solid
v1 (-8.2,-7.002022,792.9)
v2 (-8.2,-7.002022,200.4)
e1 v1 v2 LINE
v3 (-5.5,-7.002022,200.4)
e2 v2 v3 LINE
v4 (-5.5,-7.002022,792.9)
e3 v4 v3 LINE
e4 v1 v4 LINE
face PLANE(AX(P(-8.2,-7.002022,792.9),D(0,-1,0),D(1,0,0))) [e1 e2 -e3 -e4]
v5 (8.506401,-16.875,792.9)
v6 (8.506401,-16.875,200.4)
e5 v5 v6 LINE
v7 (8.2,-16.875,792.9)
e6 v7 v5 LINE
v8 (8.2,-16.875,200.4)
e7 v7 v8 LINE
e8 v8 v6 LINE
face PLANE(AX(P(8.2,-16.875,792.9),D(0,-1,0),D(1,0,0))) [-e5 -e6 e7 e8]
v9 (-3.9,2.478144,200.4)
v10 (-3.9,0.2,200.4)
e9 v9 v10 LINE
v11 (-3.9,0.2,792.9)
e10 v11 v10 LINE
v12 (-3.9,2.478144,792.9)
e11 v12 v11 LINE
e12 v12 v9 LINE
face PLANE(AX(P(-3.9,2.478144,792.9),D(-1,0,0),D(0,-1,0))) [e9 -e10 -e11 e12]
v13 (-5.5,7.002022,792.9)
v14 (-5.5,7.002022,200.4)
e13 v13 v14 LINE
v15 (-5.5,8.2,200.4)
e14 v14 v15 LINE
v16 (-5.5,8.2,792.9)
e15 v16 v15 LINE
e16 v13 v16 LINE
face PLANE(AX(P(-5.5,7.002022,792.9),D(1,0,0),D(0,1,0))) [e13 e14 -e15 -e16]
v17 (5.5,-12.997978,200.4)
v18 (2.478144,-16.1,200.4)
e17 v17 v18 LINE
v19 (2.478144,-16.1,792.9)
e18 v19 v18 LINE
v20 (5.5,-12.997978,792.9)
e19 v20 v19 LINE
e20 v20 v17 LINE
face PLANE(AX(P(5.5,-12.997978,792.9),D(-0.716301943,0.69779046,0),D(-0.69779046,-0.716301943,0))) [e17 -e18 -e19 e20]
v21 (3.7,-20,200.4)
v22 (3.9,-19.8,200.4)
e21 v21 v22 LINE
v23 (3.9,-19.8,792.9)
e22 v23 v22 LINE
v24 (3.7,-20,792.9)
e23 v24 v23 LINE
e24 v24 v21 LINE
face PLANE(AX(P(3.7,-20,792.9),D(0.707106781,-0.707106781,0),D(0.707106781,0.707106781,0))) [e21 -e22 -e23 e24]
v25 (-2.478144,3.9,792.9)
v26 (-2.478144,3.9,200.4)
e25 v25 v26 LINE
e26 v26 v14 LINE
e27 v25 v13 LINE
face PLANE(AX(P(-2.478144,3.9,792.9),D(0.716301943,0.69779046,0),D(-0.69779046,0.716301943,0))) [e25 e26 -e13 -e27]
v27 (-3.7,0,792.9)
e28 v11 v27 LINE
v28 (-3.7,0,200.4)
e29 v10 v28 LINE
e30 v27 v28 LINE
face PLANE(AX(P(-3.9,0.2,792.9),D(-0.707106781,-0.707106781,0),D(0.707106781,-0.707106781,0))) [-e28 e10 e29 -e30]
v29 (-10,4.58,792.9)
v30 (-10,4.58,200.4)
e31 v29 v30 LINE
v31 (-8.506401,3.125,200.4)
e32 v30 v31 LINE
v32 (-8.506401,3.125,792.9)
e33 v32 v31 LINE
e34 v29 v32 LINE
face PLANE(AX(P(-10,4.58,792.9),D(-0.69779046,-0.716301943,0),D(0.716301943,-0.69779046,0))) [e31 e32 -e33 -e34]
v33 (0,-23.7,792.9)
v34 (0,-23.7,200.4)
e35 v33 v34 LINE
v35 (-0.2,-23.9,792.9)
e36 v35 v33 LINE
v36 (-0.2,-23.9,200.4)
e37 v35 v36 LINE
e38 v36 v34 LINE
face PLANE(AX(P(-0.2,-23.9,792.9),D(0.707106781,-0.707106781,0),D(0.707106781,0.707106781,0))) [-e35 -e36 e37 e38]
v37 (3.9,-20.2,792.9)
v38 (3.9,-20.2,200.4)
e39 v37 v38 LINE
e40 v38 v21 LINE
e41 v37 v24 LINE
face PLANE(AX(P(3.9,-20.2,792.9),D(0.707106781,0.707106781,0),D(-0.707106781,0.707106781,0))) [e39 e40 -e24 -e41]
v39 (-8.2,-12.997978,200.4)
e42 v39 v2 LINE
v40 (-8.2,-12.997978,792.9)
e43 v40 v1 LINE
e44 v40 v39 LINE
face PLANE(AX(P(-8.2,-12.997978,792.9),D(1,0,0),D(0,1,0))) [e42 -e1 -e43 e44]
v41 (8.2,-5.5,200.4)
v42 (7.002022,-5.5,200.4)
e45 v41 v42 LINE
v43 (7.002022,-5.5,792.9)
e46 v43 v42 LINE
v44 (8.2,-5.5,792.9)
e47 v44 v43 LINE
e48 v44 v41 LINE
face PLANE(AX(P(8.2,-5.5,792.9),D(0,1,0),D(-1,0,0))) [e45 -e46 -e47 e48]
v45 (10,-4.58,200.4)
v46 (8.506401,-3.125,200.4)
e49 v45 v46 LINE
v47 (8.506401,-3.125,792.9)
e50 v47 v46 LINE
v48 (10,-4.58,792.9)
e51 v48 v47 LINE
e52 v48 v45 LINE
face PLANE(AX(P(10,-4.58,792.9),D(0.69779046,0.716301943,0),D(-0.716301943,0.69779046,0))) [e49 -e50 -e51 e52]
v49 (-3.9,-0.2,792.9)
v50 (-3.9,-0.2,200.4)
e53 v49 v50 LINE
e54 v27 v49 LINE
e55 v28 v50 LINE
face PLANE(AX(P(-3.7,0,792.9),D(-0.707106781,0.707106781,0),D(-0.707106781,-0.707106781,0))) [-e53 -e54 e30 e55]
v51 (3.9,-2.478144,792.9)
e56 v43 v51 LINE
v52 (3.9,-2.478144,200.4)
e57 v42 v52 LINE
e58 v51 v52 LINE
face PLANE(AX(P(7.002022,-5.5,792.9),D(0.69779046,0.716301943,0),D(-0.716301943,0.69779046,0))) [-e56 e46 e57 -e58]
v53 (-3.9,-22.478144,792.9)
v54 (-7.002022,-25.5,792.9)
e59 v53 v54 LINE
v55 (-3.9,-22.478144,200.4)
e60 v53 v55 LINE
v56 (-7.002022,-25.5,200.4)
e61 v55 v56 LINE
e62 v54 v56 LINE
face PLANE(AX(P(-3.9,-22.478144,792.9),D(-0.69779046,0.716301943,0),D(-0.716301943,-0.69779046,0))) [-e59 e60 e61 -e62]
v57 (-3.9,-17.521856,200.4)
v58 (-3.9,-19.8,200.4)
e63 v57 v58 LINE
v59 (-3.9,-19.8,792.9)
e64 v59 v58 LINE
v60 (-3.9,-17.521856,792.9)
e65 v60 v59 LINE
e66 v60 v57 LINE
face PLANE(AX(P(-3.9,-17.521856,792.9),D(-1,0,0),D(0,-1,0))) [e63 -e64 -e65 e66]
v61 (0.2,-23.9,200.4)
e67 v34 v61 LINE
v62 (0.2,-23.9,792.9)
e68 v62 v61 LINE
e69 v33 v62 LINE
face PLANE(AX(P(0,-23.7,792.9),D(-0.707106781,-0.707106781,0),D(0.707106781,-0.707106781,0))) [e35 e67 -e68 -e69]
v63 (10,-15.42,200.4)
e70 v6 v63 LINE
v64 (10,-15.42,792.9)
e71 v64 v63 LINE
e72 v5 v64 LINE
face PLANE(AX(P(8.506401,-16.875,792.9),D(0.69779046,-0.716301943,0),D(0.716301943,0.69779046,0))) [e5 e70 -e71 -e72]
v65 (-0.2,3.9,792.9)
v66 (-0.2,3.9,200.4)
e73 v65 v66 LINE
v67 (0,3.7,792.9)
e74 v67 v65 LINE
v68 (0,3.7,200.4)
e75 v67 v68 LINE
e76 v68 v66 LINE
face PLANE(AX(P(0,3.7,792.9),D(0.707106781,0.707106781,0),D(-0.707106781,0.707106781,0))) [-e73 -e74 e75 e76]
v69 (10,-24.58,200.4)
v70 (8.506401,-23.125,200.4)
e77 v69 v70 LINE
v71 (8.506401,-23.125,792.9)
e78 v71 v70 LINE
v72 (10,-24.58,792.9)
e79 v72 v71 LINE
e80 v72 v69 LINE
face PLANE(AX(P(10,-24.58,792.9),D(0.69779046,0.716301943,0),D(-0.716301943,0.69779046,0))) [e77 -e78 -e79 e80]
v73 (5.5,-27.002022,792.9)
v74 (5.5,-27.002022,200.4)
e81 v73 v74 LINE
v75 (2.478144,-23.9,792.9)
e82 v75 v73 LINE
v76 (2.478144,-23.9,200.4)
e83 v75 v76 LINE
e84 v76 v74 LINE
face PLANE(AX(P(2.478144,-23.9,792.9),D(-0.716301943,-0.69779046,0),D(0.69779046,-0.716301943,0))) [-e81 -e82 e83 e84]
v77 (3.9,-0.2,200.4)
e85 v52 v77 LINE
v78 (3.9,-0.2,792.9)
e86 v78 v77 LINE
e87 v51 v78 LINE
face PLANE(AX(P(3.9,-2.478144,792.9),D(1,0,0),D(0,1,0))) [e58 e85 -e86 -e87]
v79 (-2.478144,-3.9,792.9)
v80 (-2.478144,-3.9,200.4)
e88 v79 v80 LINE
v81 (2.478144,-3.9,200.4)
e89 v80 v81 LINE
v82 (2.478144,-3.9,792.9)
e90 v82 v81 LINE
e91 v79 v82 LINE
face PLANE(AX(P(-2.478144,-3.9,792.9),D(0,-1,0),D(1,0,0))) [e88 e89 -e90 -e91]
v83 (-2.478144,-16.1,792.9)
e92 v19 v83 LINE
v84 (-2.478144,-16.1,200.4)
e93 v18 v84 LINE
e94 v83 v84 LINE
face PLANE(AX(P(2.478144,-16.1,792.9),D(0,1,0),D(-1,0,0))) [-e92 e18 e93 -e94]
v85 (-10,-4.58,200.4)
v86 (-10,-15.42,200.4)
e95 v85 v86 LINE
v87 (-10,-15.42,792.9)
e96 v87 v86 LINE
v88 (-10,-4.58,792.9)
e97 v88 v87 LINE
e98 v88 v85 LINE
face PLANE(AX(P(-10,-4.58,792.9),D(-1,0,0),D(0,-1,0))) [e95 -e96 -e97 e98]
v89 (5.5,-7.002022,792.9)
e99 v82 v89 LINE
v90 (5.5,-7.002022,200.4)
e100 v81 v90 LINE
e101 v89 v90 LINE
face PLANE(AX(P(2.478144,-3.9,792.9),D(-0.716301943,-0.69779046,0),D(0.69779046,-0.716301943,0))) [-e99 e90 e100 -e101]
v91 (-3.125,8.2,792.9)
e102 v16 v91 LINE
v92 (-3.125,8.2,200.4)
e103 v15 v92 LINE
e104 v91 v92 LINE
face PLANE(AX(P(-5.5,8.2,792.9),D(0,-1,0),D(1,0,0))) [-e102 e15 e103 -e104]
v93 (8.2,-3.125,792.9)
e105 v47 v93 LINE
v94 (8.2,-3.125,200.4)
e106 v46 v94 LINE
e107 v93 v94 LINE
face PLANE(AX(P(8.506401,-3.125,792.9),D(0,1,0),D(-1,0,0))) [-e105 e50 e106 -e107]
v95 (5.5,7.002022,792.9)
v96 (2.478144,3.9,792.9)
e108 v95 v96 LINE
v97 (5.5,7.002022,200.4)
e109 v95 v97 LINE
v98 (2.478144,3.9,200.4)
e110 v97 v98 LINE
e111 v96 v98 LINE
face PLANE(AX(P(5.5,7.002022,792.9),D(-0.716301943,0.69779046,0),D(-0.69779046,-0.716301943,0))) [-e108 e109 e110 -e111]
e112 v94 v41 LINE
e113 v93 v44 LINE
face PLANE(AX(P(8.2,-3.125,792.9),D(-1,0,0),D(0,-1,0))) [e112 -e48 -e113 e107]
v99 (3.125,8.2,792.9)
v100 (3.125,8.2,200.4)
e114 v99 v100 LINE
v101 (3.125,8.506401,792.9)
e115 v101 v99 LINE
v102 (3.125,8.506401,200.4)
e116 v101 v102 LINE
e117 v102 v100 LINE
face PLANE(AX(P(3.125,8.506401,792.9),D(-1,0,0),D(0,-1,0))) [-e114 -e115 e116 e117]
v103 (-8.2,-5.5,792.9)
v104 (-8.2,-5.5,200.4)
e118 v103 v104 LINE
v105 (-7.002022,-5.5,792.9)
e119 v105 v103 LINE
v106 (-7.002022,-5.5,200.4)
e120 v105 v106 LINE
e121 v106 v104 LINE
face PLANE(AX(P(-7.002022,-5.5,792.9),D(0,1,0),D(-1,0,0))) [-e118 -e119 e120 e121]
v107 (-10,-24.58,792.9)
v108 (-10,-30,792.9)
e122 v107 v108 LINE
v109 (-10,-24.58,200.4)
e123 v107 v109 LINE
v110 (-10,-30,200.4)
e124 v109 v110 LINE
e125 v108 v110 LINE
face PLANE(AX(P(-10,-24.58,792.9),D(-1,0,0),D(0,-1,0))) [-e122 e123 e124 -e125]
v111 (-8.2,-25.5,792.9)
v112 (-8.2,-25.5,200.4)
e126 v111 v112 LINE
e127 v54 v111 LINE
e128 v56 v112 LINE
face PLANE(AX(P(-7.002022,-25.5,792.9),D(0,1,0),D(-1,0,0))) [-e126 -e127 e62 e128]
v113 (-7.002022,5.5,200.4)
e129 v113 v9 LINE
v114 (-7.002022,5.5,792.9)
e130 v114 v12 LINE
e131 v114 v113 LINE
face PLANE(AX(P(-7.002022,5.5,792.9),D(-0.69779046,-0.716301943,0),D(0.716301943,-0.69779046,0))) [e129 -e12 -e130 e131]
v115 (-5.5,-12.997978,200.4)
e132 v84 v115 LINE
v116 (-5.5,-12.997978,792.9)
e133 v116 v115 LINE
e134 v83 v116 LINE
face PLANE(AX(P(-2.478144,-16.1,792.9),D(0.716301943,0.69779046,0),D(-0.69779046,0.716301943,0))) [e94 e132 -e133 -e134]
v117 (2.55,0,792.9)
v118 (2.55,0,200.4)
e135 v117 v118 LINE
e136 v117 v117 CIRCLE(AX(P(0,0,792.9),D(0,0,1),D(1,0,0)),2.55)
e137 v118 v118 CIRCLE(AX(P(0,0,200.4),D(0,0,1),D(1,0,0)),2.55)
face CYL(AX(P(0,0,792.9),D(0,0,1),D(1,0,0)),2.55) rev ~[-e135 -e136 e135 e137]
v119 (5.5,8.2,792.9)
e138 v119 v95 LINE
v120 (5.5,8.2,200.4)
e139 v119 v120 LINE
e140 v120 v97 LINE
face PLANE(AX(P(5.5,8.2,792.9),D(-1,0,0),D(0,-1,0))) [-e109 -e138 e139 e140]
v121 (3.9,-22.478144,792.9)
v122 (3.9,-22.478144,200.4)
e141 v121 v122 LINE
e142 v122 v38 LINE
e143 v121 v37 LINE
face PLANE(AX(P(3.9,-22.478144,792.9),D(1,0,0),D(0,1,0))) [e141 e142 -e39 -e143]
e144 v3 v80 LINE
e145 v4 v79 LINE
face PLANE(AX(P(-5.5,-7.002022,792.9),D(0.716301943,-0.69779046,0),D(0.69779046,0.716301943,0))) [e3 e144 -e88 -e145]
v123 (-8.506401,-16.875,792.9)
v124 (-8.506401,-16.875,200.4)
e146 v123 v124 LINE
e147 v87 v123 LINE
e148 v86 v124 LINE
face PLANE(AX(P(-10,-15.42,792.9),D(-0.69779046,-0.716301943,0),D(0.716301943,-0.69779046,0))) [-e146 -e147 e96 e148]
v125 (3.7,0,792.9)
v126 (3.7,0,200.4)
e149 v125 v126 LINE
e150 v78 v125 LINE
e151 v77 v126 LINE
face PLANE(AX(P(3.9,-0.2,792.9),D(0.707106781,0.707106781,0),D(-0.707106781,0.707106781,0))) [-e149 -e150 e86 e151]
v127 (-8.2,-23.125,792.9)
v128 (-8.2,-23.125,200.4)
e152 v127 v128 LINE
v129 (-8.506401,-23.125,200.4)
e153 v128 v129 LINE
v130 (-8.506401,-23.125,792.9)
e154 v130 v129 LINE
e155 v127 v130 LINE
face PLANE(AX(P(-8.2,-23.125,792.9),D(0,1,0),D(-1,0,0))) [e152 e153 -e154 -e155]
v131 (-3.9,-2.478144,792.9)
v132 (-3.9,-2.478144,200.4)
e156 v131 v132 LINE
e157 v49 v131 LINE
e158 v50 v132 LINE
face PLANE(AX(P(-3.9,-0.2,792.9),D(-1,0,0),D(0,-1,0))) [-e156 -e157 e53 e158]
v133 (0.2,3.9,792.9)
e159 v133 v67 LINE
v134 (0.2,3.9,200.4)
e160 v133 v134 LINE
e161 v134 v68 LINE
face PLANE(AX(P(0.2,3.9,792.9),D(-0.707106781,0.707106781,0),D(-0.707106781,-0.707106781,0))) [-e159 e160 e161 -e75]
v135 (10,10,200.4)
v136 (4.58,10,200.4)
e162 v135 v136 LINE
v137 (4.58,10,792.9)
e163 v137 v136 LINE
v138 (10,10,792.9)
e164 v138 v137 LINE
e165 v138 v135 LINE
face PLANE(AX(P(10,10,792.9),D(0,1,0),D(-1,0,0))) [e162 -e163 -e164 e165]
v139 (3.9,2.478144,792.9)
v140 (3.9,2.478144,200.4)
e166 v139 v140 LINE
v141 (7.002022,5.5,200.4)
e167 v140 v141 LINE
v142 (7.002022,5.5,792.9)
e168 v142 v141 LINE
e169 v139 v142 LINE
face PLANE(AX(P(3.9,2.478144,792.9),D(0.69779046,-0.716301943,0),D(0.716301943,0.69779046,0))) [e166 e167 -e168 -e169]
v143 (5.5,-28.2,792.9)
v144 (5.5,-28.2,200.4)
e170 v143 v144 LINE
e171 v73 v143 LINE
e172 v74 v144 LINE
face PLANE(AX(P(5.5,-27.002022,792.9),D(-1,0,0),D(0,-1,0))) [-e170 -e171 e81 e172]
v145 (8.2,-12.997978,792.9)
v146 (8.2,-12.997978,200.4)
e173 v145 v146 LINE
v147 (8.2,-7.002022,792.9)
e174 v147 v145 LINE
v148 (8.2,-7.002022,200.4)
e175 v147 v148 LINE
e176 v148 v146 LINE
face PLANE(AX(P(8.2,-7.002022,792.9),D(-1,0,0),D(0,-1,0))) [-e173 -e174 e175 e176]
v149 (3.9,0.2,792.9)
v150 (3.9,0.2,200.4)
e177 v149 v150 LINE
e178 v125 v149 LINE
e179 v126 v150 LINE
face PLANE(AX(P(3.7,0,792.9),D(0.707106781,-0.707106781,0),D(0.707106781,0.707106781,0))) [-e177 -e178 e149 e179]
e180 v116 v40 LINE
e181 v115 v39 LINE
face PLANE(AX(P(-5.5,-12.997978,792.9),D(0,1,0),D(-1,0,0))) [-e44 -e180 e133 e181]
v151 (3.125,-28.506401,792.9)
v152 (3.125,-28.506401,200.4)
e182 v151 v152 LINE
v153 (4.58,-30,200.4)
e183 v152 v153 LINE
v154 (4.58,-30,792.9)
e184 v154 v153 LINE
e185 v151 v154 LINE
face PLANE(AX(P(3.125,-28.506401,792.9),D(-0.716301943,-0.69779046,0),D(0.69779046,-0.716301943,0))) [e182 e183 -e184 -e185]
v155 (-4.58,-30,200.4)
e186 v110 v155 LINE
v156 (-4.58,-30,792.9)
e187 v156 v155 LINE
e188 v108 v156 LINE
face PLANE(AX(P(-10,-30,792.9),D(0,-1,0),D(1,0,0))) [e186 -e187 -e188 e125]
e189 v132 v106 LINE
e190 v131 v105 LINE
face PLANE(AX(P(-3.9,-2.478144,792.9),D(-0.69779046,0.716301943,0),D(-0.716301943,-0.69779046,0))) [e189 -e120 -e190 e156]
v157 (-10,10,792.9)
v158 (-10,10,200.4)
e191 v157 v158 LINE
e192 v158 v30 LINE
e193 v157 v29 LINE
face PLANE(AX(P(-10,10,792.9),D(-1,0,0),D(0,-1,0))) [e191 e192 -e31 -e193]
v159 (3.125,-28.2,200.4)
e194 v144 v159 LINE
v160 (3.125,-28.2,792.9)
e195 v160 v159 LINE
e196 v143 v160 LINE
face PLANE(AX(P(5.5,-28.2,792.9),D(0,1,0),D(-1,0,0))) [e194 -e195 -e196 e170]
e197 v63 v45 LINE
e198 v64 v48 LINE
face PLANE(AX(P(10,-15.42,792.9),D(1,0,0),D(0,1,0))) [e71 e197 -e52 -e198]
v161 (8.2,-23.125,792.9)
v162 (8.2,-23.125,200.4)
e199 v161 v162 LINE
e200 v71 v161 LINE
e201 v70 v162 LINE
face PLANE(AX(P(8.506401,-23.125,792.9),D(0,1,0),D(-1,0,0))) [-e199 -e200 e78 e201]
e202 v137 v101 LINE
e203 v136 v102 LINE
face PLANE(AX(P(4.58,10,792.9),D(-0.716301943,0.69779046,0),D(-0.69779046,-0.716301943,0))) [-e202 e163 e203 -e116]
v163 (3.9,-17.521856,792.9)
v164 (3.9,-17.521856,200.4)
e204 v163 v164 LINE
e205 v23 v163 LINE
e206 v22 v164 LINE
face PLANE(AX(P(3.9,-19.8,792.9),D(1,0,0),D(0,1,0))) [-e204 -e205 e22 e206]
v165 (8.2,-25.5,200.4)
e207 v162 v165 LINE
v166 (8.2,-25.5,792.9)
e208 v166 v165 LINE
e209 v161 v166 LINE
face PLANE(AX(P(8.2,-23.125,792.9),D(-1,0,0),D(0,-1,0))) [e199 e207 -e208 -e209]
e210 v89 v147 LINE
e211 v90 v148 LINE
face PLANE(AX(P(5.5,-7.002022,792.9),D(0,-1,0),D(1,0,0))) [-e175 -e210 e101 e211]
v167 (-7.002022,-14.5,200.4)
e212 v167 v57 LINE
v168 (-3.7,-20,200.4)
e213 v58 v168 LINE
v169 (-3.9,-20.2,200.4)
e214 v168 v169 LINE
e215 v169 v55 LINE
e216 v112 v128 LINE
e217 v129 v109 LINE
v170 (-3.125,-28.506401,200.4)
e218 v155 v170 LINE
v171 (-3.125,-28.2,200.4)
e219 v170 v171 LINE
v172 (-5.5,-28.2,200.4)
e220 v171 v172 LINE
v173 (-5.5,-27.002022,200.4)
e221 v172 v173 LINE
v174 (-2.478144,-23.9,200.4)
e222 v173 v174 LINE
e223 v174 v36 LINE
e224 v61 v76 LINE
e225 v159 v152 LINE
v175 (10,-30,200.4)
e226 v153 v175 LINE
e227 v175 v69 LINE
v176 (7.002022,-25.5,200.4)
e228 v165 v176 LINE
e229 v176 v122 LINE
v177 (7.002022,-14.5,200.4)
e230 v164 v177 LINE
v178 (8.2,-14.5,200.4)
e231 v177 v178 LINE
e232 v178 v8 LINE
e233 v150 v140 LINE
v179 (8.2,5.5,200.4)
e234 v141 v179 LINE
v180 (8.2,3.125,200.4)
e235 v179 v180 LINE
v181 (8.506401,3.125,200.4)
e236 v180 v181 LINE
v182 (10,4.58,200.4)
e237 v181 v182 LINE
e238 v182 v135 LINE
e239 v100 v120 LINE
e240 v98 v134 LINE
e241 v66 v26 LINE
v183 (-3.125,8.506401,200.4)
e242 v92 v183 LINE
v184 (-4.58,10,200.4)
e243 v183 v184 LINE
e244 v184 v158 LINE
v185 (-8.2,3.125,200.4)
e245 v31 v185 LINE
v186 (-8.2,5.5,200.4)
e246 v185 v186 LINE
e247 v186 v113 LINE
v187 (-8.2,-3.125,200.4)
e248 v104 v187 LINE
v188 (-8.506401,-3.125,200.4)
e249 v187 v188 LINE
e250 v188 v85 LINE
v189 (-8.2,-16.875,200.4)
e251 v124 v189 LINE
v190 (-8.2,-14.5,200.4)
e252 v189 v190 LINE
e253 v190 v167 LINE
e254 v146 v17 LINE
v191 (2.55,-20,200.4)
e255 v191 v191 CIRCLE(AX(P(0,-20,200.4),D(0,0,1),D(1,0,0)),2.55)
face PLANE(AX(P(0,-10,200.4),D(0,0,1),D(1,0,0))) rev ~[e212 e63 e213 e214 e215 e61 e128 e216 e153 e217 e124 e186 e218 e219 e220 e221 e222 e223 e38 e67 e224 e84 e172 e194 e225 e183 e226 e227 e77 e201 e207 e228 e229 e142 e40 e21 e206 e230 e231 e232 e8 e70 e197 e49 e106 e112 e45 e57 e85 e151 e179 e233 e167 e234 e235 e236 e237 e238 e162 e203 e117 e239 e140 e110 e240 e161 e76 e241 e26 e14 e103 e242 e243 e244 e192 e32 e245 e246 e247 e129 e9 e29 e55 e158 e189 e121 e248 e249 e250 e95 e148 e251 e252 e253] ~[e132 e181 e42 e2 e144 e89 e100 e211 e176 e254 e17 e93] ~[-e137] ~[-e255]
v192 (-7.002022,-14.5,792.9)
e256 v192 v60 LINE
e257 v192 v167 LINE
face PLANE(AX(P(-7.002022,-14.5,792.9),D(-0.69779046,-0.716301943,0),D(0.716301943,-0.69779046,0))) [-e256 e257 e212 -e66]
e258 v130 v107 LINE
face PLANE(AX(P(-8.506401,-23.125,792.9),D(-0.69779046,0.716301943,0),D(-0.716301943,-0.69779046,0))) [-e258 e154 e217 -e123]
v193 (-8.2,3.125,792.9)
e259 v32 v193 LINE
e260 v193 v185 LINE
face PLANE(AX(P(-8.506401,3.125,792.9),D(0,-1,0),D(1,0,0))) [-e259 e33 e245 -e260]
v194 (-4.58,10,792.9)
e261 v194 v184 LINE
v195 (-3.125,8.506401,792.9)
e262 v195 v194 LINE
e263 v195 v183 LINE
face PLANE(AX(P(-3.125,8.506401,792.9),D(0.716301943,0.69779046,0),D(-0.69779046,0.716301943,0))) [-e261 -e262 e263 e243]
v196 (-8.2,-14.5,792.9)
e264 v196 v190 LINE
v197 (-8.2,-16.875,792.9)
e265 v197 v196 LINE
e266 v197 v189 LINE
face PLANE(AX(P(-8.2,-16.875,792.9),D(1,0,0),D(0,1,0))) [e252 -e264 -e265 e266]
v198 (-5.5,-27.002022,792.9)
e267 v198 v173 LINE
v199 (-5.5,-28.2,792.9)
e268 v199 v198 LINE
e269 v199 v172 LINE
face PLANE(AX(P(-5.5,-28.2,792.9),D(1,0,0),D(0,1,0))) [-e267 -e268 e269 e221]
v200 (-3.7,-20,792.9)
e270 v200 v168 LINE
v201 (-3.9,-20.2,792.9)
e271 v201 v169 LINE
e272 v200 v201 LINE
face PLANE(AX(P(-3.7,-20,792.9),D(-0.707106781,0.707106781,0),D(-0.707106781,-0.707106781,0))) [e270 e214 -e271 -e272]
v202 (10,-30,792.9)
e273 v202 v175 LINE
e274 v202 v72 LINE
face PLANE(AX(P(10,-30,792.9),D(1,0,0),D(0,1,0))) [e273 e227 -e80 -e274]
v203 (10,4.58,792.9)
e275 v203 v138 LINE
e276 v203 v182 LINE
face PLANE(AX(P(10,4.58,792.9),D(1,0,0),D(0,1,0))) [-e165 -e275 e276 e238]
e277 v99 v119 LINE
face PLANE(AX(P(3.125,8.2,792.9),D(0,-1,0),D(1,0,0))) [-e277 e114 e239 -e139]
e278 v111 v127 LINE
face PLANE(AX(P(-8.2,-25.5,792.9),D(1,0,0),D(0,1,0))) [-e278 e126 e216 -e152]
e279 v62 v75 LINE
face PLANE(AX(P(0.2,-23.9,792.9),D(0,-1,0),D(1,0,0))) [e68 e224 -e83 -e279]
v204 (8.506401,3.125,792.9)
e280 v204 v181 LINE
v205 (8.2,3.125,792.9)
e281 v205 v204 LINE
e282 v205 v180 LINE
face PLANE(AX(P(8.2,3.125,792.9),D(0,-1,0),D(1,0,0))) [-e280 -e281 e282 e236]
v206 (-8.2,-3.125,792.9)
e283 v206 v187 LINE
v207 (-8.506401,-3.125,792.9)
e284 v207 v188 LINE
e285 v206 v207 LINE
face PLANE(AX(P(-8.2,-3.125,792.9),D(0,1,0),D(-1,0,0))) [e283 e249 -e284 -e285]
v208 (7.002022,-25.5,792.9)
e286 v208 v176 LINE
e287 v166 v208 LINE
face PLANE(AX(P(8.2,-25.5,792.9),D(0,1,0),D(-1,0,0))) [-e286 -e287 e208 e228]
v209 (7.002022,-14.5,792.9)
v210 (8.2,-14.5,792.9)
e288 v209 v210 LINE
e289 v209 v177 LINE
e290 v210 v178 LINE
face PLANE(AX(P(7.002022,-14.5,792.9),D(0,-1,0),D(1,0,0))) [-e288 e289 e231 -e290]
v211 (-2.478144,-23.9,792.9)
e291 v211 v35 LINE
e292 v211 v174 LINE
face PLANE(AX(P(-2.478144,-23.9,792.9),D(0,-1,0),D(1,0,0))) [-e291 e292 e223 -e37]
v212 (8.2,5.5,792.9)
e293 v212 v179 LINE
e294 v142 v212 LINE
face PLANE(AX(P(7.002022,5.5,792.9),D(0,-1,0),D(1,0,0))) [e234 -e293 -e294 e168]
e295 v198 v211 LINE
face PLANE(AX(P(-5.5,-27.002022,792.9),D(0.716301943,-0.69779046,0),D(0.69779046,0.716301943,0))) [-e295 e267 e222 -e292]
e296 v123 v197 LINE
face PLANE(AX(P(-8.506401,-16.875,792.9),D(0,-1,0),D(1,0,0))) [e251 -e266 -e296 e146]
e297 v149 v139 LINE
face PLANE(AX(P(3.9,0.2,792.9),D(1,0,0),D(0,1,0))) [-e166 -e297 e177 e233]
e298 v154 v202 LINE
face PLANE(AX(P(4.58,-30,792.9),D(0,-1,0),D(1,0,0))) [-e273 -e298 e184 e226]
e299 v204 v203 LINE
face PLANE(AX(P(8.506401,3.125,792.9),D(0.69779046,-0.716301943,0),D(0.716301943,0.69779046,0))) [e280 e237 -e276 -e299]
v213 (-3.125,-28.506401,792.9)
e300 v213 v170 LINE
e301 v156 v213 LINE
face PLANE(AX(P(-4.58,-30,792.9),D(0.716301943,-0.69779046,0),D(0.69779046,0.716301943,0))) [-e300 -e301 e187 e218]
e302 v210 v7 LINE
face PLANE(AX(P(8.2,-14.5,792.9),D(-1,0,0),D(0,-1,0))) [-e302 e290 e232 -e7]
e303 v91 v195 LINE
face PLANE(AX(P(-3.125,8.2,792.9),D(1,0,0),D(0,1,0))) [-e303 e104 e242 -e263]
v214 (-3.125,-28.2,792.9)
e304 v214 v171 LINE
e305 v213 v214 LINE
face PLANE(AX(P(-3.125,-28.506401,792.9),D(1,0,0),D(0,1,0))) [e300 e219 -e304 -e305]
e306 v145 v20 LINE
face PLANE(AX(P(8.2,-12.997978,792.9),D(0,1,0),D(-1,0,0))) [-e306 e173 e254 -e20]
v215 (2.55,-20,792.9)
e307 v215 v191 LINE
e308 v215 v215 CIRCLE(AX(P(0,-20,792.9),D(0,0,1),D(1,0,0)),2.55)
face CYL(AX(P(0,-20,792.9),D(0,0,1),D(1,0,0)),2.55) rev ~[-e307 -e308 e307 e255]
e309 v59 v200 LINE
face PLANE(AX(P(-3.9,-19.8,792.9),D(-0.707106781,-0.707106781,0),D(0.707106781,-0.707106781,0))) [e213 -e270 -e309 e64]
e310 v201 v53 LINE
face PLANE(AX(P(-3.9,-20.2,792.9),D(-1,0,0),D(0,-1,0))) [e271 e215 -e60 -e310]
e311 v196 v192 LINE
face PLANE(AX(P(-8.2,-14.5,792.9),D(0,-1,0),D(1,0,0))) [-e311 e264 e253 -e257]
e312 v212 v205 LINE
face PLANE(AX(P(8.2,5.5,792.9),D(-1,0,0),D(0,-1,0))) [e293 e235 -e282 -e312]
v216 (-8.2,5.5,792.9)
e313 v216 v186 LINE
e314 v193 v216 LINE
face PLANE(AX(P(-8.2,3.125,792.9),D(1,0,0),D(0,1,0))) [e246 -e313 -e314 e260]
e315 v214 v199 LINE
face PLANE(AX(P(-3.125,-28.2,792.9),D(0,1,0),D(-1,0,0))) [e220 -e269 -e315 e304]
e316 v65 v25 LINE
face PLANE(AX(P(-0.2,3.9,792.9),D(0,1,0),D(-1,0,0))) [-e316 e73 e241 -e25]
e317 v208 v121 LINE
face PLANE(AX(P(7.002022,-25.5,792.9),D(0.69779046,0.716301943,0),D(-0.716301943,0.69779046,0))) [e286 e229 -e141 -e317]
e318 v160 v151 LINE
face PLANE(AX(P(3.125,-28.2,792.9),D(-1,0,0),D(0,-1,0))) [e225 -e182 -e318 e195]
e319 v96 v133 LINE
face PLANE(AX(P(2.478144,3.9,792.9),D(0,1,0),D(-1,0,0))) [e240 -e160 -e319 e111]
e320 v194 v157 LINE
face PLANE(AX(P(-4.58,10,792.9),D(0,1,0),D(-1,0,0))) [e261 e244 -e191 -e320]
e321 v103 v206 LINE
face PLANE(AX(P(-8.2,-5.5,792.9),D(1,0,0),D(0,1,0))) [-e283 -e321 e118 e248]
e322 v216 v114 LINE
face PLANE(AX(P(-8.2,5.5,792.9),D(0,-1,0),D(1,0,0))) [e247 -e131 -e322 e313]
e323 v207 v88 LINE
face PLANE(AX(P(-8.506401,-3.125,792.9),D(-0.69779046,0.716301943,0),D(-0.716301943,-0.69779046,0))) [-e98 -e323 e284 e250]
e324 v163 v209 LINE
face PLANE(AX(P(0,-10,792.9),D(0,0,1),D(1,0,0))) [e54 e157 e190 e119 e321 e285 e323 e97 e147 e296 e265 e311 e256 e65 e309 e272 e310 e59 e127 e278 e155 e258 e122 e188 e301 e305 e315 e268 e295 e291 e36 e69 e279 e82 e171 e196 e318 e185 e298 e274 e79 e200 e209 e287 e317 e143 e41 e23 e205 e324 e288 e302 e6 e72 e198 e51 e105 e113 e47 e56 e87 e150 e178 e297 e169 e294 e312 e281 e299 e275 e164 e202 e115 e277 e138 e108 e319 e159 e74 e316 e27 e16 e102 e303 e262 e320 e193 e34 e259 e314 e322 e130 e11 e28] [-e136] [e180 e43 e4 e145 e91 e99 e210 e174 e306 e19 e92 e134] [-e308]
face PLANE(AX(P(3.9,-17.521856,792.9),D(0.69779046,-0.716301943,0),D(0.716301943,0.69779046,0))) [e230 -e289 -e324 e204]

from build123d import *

# Parameters (mm, degrees)
SKETCH_1_R      = 2.55
EXTRUDE_1_DEPTH = 592.5


with BuildPart() as part:
    # Эскиз1 → Бобышка-Вытянуть1 (new body)
    with BuildSketch(Plane.XY.offset(792.9)):
        Polygon((-8.2, -3.125), (-8.506400721, -3.125), (-10, -4.58), (-10, -15.42), (-8.506400721, -16.875), (-8.2, -16.875), (-8.2, -14.5), (-7.00202244, -14.5), (-3.9, -17.521856474), (-3.9, -19.8), (-3.7, -20), (-3.9, -20.2), (-3.9, -22.478143526), (-7.00202244, -25.5), (-8.2, -25.5), (-8.2, -23.125), (-8.506400721, -23.125), (-10, -24.58), (-10, -30), (-4.58, -30), (-3.125, -28.506400721), (-3.125, -28.2), (-5.5, -28.2), (-5.5, -27.00202244), (-2.478143526, -23.9), (-0.2, -23.9), (0, -23.7), (0.2, -23.9), (2.478143526, -23.9), (5.5, -27.00202244), (5.5, -28.2), (3.125, -28.2), (3.125, -28.506400721), (4.58, -30), (10, -30), (10, -24.58), (8.506400721, -23.125), (8.2, -23.125), (8.2, -25.5), (7.00202244, -25.5), (3.9, -22.478143526), (3.9, -20.2), (3.7, -20), (3.9, -19.8), (3.9, -17.521856474), (7.00202244, -14.5), (8.2, -14.5), (8.2, -16.875), (8.506400721, -16.875), (10, -15.42), (10, -4.58), (8.506400721, -3.125), (8.2, -3.125), (8.2, -5.5), (7.00202244, -5.5), (3.9, -2.478143526), (3.9, -0.2), (3.7, 0), (3.9, 0.2), (3.9, 2.478143526), (7.00202244, 5.5), (8.2, 5.5), (8.2, 3.125), (8.506400721, 3.125), (10, 4.58), (10, 10), (4.58, 10), (3.125, 8.506400721), (3.125, 8.2), (5.5, 8.2), (5.5, 7.00202244), (2.478143526, 3.9), (0.2, 3.9), (0, 3.7), (-0.2, 3.9), (-2.478143526, 3.9), (-5.5, 7.00202244), (-5.5, 8.2), (-3.125, 8.2), (-3.125, 8.506400721), (-4.58, 10), (-10, 10), (-10, 4.58), (-8.506400721, 3.125), (-8.2, 3.125), (-8.2, 5.5), (-7.00202244, 5.5), (-3.9, 2.478143526), (-3.9, 0.2), (-3.7, 0), (-3.9, -0.2), (-3.9, -2.478143526), (-7.00202244, -5.5), (-8.2, -5.5), align=None)
        Circle(SKETCH_1_R, mode=Mode.SUBTRACT)
        with Locations((0, -20)):
            Circle(SKETCH_1_R, mode=Mode.SUBTRACT)
        Polygon((-2.478143526, -3.9), (2.478143526, -3.9), (5.5, -7.00202244), (8.2, -7.00202244), (8.2, -12.99797756), (5.5, -12.99797756), (2.478143526, -16.1), (-2.478143526, -16.1), (-5.5, -12.99797756), (-8.2, -12.99797756), (-8.2, -7.00202244), (-5.5, -7.00202244), align=None, mode=Mode.SUBTRACT)
    extrude(amount=-EXTRUDE_1_DEPTH)


solid = part.part
